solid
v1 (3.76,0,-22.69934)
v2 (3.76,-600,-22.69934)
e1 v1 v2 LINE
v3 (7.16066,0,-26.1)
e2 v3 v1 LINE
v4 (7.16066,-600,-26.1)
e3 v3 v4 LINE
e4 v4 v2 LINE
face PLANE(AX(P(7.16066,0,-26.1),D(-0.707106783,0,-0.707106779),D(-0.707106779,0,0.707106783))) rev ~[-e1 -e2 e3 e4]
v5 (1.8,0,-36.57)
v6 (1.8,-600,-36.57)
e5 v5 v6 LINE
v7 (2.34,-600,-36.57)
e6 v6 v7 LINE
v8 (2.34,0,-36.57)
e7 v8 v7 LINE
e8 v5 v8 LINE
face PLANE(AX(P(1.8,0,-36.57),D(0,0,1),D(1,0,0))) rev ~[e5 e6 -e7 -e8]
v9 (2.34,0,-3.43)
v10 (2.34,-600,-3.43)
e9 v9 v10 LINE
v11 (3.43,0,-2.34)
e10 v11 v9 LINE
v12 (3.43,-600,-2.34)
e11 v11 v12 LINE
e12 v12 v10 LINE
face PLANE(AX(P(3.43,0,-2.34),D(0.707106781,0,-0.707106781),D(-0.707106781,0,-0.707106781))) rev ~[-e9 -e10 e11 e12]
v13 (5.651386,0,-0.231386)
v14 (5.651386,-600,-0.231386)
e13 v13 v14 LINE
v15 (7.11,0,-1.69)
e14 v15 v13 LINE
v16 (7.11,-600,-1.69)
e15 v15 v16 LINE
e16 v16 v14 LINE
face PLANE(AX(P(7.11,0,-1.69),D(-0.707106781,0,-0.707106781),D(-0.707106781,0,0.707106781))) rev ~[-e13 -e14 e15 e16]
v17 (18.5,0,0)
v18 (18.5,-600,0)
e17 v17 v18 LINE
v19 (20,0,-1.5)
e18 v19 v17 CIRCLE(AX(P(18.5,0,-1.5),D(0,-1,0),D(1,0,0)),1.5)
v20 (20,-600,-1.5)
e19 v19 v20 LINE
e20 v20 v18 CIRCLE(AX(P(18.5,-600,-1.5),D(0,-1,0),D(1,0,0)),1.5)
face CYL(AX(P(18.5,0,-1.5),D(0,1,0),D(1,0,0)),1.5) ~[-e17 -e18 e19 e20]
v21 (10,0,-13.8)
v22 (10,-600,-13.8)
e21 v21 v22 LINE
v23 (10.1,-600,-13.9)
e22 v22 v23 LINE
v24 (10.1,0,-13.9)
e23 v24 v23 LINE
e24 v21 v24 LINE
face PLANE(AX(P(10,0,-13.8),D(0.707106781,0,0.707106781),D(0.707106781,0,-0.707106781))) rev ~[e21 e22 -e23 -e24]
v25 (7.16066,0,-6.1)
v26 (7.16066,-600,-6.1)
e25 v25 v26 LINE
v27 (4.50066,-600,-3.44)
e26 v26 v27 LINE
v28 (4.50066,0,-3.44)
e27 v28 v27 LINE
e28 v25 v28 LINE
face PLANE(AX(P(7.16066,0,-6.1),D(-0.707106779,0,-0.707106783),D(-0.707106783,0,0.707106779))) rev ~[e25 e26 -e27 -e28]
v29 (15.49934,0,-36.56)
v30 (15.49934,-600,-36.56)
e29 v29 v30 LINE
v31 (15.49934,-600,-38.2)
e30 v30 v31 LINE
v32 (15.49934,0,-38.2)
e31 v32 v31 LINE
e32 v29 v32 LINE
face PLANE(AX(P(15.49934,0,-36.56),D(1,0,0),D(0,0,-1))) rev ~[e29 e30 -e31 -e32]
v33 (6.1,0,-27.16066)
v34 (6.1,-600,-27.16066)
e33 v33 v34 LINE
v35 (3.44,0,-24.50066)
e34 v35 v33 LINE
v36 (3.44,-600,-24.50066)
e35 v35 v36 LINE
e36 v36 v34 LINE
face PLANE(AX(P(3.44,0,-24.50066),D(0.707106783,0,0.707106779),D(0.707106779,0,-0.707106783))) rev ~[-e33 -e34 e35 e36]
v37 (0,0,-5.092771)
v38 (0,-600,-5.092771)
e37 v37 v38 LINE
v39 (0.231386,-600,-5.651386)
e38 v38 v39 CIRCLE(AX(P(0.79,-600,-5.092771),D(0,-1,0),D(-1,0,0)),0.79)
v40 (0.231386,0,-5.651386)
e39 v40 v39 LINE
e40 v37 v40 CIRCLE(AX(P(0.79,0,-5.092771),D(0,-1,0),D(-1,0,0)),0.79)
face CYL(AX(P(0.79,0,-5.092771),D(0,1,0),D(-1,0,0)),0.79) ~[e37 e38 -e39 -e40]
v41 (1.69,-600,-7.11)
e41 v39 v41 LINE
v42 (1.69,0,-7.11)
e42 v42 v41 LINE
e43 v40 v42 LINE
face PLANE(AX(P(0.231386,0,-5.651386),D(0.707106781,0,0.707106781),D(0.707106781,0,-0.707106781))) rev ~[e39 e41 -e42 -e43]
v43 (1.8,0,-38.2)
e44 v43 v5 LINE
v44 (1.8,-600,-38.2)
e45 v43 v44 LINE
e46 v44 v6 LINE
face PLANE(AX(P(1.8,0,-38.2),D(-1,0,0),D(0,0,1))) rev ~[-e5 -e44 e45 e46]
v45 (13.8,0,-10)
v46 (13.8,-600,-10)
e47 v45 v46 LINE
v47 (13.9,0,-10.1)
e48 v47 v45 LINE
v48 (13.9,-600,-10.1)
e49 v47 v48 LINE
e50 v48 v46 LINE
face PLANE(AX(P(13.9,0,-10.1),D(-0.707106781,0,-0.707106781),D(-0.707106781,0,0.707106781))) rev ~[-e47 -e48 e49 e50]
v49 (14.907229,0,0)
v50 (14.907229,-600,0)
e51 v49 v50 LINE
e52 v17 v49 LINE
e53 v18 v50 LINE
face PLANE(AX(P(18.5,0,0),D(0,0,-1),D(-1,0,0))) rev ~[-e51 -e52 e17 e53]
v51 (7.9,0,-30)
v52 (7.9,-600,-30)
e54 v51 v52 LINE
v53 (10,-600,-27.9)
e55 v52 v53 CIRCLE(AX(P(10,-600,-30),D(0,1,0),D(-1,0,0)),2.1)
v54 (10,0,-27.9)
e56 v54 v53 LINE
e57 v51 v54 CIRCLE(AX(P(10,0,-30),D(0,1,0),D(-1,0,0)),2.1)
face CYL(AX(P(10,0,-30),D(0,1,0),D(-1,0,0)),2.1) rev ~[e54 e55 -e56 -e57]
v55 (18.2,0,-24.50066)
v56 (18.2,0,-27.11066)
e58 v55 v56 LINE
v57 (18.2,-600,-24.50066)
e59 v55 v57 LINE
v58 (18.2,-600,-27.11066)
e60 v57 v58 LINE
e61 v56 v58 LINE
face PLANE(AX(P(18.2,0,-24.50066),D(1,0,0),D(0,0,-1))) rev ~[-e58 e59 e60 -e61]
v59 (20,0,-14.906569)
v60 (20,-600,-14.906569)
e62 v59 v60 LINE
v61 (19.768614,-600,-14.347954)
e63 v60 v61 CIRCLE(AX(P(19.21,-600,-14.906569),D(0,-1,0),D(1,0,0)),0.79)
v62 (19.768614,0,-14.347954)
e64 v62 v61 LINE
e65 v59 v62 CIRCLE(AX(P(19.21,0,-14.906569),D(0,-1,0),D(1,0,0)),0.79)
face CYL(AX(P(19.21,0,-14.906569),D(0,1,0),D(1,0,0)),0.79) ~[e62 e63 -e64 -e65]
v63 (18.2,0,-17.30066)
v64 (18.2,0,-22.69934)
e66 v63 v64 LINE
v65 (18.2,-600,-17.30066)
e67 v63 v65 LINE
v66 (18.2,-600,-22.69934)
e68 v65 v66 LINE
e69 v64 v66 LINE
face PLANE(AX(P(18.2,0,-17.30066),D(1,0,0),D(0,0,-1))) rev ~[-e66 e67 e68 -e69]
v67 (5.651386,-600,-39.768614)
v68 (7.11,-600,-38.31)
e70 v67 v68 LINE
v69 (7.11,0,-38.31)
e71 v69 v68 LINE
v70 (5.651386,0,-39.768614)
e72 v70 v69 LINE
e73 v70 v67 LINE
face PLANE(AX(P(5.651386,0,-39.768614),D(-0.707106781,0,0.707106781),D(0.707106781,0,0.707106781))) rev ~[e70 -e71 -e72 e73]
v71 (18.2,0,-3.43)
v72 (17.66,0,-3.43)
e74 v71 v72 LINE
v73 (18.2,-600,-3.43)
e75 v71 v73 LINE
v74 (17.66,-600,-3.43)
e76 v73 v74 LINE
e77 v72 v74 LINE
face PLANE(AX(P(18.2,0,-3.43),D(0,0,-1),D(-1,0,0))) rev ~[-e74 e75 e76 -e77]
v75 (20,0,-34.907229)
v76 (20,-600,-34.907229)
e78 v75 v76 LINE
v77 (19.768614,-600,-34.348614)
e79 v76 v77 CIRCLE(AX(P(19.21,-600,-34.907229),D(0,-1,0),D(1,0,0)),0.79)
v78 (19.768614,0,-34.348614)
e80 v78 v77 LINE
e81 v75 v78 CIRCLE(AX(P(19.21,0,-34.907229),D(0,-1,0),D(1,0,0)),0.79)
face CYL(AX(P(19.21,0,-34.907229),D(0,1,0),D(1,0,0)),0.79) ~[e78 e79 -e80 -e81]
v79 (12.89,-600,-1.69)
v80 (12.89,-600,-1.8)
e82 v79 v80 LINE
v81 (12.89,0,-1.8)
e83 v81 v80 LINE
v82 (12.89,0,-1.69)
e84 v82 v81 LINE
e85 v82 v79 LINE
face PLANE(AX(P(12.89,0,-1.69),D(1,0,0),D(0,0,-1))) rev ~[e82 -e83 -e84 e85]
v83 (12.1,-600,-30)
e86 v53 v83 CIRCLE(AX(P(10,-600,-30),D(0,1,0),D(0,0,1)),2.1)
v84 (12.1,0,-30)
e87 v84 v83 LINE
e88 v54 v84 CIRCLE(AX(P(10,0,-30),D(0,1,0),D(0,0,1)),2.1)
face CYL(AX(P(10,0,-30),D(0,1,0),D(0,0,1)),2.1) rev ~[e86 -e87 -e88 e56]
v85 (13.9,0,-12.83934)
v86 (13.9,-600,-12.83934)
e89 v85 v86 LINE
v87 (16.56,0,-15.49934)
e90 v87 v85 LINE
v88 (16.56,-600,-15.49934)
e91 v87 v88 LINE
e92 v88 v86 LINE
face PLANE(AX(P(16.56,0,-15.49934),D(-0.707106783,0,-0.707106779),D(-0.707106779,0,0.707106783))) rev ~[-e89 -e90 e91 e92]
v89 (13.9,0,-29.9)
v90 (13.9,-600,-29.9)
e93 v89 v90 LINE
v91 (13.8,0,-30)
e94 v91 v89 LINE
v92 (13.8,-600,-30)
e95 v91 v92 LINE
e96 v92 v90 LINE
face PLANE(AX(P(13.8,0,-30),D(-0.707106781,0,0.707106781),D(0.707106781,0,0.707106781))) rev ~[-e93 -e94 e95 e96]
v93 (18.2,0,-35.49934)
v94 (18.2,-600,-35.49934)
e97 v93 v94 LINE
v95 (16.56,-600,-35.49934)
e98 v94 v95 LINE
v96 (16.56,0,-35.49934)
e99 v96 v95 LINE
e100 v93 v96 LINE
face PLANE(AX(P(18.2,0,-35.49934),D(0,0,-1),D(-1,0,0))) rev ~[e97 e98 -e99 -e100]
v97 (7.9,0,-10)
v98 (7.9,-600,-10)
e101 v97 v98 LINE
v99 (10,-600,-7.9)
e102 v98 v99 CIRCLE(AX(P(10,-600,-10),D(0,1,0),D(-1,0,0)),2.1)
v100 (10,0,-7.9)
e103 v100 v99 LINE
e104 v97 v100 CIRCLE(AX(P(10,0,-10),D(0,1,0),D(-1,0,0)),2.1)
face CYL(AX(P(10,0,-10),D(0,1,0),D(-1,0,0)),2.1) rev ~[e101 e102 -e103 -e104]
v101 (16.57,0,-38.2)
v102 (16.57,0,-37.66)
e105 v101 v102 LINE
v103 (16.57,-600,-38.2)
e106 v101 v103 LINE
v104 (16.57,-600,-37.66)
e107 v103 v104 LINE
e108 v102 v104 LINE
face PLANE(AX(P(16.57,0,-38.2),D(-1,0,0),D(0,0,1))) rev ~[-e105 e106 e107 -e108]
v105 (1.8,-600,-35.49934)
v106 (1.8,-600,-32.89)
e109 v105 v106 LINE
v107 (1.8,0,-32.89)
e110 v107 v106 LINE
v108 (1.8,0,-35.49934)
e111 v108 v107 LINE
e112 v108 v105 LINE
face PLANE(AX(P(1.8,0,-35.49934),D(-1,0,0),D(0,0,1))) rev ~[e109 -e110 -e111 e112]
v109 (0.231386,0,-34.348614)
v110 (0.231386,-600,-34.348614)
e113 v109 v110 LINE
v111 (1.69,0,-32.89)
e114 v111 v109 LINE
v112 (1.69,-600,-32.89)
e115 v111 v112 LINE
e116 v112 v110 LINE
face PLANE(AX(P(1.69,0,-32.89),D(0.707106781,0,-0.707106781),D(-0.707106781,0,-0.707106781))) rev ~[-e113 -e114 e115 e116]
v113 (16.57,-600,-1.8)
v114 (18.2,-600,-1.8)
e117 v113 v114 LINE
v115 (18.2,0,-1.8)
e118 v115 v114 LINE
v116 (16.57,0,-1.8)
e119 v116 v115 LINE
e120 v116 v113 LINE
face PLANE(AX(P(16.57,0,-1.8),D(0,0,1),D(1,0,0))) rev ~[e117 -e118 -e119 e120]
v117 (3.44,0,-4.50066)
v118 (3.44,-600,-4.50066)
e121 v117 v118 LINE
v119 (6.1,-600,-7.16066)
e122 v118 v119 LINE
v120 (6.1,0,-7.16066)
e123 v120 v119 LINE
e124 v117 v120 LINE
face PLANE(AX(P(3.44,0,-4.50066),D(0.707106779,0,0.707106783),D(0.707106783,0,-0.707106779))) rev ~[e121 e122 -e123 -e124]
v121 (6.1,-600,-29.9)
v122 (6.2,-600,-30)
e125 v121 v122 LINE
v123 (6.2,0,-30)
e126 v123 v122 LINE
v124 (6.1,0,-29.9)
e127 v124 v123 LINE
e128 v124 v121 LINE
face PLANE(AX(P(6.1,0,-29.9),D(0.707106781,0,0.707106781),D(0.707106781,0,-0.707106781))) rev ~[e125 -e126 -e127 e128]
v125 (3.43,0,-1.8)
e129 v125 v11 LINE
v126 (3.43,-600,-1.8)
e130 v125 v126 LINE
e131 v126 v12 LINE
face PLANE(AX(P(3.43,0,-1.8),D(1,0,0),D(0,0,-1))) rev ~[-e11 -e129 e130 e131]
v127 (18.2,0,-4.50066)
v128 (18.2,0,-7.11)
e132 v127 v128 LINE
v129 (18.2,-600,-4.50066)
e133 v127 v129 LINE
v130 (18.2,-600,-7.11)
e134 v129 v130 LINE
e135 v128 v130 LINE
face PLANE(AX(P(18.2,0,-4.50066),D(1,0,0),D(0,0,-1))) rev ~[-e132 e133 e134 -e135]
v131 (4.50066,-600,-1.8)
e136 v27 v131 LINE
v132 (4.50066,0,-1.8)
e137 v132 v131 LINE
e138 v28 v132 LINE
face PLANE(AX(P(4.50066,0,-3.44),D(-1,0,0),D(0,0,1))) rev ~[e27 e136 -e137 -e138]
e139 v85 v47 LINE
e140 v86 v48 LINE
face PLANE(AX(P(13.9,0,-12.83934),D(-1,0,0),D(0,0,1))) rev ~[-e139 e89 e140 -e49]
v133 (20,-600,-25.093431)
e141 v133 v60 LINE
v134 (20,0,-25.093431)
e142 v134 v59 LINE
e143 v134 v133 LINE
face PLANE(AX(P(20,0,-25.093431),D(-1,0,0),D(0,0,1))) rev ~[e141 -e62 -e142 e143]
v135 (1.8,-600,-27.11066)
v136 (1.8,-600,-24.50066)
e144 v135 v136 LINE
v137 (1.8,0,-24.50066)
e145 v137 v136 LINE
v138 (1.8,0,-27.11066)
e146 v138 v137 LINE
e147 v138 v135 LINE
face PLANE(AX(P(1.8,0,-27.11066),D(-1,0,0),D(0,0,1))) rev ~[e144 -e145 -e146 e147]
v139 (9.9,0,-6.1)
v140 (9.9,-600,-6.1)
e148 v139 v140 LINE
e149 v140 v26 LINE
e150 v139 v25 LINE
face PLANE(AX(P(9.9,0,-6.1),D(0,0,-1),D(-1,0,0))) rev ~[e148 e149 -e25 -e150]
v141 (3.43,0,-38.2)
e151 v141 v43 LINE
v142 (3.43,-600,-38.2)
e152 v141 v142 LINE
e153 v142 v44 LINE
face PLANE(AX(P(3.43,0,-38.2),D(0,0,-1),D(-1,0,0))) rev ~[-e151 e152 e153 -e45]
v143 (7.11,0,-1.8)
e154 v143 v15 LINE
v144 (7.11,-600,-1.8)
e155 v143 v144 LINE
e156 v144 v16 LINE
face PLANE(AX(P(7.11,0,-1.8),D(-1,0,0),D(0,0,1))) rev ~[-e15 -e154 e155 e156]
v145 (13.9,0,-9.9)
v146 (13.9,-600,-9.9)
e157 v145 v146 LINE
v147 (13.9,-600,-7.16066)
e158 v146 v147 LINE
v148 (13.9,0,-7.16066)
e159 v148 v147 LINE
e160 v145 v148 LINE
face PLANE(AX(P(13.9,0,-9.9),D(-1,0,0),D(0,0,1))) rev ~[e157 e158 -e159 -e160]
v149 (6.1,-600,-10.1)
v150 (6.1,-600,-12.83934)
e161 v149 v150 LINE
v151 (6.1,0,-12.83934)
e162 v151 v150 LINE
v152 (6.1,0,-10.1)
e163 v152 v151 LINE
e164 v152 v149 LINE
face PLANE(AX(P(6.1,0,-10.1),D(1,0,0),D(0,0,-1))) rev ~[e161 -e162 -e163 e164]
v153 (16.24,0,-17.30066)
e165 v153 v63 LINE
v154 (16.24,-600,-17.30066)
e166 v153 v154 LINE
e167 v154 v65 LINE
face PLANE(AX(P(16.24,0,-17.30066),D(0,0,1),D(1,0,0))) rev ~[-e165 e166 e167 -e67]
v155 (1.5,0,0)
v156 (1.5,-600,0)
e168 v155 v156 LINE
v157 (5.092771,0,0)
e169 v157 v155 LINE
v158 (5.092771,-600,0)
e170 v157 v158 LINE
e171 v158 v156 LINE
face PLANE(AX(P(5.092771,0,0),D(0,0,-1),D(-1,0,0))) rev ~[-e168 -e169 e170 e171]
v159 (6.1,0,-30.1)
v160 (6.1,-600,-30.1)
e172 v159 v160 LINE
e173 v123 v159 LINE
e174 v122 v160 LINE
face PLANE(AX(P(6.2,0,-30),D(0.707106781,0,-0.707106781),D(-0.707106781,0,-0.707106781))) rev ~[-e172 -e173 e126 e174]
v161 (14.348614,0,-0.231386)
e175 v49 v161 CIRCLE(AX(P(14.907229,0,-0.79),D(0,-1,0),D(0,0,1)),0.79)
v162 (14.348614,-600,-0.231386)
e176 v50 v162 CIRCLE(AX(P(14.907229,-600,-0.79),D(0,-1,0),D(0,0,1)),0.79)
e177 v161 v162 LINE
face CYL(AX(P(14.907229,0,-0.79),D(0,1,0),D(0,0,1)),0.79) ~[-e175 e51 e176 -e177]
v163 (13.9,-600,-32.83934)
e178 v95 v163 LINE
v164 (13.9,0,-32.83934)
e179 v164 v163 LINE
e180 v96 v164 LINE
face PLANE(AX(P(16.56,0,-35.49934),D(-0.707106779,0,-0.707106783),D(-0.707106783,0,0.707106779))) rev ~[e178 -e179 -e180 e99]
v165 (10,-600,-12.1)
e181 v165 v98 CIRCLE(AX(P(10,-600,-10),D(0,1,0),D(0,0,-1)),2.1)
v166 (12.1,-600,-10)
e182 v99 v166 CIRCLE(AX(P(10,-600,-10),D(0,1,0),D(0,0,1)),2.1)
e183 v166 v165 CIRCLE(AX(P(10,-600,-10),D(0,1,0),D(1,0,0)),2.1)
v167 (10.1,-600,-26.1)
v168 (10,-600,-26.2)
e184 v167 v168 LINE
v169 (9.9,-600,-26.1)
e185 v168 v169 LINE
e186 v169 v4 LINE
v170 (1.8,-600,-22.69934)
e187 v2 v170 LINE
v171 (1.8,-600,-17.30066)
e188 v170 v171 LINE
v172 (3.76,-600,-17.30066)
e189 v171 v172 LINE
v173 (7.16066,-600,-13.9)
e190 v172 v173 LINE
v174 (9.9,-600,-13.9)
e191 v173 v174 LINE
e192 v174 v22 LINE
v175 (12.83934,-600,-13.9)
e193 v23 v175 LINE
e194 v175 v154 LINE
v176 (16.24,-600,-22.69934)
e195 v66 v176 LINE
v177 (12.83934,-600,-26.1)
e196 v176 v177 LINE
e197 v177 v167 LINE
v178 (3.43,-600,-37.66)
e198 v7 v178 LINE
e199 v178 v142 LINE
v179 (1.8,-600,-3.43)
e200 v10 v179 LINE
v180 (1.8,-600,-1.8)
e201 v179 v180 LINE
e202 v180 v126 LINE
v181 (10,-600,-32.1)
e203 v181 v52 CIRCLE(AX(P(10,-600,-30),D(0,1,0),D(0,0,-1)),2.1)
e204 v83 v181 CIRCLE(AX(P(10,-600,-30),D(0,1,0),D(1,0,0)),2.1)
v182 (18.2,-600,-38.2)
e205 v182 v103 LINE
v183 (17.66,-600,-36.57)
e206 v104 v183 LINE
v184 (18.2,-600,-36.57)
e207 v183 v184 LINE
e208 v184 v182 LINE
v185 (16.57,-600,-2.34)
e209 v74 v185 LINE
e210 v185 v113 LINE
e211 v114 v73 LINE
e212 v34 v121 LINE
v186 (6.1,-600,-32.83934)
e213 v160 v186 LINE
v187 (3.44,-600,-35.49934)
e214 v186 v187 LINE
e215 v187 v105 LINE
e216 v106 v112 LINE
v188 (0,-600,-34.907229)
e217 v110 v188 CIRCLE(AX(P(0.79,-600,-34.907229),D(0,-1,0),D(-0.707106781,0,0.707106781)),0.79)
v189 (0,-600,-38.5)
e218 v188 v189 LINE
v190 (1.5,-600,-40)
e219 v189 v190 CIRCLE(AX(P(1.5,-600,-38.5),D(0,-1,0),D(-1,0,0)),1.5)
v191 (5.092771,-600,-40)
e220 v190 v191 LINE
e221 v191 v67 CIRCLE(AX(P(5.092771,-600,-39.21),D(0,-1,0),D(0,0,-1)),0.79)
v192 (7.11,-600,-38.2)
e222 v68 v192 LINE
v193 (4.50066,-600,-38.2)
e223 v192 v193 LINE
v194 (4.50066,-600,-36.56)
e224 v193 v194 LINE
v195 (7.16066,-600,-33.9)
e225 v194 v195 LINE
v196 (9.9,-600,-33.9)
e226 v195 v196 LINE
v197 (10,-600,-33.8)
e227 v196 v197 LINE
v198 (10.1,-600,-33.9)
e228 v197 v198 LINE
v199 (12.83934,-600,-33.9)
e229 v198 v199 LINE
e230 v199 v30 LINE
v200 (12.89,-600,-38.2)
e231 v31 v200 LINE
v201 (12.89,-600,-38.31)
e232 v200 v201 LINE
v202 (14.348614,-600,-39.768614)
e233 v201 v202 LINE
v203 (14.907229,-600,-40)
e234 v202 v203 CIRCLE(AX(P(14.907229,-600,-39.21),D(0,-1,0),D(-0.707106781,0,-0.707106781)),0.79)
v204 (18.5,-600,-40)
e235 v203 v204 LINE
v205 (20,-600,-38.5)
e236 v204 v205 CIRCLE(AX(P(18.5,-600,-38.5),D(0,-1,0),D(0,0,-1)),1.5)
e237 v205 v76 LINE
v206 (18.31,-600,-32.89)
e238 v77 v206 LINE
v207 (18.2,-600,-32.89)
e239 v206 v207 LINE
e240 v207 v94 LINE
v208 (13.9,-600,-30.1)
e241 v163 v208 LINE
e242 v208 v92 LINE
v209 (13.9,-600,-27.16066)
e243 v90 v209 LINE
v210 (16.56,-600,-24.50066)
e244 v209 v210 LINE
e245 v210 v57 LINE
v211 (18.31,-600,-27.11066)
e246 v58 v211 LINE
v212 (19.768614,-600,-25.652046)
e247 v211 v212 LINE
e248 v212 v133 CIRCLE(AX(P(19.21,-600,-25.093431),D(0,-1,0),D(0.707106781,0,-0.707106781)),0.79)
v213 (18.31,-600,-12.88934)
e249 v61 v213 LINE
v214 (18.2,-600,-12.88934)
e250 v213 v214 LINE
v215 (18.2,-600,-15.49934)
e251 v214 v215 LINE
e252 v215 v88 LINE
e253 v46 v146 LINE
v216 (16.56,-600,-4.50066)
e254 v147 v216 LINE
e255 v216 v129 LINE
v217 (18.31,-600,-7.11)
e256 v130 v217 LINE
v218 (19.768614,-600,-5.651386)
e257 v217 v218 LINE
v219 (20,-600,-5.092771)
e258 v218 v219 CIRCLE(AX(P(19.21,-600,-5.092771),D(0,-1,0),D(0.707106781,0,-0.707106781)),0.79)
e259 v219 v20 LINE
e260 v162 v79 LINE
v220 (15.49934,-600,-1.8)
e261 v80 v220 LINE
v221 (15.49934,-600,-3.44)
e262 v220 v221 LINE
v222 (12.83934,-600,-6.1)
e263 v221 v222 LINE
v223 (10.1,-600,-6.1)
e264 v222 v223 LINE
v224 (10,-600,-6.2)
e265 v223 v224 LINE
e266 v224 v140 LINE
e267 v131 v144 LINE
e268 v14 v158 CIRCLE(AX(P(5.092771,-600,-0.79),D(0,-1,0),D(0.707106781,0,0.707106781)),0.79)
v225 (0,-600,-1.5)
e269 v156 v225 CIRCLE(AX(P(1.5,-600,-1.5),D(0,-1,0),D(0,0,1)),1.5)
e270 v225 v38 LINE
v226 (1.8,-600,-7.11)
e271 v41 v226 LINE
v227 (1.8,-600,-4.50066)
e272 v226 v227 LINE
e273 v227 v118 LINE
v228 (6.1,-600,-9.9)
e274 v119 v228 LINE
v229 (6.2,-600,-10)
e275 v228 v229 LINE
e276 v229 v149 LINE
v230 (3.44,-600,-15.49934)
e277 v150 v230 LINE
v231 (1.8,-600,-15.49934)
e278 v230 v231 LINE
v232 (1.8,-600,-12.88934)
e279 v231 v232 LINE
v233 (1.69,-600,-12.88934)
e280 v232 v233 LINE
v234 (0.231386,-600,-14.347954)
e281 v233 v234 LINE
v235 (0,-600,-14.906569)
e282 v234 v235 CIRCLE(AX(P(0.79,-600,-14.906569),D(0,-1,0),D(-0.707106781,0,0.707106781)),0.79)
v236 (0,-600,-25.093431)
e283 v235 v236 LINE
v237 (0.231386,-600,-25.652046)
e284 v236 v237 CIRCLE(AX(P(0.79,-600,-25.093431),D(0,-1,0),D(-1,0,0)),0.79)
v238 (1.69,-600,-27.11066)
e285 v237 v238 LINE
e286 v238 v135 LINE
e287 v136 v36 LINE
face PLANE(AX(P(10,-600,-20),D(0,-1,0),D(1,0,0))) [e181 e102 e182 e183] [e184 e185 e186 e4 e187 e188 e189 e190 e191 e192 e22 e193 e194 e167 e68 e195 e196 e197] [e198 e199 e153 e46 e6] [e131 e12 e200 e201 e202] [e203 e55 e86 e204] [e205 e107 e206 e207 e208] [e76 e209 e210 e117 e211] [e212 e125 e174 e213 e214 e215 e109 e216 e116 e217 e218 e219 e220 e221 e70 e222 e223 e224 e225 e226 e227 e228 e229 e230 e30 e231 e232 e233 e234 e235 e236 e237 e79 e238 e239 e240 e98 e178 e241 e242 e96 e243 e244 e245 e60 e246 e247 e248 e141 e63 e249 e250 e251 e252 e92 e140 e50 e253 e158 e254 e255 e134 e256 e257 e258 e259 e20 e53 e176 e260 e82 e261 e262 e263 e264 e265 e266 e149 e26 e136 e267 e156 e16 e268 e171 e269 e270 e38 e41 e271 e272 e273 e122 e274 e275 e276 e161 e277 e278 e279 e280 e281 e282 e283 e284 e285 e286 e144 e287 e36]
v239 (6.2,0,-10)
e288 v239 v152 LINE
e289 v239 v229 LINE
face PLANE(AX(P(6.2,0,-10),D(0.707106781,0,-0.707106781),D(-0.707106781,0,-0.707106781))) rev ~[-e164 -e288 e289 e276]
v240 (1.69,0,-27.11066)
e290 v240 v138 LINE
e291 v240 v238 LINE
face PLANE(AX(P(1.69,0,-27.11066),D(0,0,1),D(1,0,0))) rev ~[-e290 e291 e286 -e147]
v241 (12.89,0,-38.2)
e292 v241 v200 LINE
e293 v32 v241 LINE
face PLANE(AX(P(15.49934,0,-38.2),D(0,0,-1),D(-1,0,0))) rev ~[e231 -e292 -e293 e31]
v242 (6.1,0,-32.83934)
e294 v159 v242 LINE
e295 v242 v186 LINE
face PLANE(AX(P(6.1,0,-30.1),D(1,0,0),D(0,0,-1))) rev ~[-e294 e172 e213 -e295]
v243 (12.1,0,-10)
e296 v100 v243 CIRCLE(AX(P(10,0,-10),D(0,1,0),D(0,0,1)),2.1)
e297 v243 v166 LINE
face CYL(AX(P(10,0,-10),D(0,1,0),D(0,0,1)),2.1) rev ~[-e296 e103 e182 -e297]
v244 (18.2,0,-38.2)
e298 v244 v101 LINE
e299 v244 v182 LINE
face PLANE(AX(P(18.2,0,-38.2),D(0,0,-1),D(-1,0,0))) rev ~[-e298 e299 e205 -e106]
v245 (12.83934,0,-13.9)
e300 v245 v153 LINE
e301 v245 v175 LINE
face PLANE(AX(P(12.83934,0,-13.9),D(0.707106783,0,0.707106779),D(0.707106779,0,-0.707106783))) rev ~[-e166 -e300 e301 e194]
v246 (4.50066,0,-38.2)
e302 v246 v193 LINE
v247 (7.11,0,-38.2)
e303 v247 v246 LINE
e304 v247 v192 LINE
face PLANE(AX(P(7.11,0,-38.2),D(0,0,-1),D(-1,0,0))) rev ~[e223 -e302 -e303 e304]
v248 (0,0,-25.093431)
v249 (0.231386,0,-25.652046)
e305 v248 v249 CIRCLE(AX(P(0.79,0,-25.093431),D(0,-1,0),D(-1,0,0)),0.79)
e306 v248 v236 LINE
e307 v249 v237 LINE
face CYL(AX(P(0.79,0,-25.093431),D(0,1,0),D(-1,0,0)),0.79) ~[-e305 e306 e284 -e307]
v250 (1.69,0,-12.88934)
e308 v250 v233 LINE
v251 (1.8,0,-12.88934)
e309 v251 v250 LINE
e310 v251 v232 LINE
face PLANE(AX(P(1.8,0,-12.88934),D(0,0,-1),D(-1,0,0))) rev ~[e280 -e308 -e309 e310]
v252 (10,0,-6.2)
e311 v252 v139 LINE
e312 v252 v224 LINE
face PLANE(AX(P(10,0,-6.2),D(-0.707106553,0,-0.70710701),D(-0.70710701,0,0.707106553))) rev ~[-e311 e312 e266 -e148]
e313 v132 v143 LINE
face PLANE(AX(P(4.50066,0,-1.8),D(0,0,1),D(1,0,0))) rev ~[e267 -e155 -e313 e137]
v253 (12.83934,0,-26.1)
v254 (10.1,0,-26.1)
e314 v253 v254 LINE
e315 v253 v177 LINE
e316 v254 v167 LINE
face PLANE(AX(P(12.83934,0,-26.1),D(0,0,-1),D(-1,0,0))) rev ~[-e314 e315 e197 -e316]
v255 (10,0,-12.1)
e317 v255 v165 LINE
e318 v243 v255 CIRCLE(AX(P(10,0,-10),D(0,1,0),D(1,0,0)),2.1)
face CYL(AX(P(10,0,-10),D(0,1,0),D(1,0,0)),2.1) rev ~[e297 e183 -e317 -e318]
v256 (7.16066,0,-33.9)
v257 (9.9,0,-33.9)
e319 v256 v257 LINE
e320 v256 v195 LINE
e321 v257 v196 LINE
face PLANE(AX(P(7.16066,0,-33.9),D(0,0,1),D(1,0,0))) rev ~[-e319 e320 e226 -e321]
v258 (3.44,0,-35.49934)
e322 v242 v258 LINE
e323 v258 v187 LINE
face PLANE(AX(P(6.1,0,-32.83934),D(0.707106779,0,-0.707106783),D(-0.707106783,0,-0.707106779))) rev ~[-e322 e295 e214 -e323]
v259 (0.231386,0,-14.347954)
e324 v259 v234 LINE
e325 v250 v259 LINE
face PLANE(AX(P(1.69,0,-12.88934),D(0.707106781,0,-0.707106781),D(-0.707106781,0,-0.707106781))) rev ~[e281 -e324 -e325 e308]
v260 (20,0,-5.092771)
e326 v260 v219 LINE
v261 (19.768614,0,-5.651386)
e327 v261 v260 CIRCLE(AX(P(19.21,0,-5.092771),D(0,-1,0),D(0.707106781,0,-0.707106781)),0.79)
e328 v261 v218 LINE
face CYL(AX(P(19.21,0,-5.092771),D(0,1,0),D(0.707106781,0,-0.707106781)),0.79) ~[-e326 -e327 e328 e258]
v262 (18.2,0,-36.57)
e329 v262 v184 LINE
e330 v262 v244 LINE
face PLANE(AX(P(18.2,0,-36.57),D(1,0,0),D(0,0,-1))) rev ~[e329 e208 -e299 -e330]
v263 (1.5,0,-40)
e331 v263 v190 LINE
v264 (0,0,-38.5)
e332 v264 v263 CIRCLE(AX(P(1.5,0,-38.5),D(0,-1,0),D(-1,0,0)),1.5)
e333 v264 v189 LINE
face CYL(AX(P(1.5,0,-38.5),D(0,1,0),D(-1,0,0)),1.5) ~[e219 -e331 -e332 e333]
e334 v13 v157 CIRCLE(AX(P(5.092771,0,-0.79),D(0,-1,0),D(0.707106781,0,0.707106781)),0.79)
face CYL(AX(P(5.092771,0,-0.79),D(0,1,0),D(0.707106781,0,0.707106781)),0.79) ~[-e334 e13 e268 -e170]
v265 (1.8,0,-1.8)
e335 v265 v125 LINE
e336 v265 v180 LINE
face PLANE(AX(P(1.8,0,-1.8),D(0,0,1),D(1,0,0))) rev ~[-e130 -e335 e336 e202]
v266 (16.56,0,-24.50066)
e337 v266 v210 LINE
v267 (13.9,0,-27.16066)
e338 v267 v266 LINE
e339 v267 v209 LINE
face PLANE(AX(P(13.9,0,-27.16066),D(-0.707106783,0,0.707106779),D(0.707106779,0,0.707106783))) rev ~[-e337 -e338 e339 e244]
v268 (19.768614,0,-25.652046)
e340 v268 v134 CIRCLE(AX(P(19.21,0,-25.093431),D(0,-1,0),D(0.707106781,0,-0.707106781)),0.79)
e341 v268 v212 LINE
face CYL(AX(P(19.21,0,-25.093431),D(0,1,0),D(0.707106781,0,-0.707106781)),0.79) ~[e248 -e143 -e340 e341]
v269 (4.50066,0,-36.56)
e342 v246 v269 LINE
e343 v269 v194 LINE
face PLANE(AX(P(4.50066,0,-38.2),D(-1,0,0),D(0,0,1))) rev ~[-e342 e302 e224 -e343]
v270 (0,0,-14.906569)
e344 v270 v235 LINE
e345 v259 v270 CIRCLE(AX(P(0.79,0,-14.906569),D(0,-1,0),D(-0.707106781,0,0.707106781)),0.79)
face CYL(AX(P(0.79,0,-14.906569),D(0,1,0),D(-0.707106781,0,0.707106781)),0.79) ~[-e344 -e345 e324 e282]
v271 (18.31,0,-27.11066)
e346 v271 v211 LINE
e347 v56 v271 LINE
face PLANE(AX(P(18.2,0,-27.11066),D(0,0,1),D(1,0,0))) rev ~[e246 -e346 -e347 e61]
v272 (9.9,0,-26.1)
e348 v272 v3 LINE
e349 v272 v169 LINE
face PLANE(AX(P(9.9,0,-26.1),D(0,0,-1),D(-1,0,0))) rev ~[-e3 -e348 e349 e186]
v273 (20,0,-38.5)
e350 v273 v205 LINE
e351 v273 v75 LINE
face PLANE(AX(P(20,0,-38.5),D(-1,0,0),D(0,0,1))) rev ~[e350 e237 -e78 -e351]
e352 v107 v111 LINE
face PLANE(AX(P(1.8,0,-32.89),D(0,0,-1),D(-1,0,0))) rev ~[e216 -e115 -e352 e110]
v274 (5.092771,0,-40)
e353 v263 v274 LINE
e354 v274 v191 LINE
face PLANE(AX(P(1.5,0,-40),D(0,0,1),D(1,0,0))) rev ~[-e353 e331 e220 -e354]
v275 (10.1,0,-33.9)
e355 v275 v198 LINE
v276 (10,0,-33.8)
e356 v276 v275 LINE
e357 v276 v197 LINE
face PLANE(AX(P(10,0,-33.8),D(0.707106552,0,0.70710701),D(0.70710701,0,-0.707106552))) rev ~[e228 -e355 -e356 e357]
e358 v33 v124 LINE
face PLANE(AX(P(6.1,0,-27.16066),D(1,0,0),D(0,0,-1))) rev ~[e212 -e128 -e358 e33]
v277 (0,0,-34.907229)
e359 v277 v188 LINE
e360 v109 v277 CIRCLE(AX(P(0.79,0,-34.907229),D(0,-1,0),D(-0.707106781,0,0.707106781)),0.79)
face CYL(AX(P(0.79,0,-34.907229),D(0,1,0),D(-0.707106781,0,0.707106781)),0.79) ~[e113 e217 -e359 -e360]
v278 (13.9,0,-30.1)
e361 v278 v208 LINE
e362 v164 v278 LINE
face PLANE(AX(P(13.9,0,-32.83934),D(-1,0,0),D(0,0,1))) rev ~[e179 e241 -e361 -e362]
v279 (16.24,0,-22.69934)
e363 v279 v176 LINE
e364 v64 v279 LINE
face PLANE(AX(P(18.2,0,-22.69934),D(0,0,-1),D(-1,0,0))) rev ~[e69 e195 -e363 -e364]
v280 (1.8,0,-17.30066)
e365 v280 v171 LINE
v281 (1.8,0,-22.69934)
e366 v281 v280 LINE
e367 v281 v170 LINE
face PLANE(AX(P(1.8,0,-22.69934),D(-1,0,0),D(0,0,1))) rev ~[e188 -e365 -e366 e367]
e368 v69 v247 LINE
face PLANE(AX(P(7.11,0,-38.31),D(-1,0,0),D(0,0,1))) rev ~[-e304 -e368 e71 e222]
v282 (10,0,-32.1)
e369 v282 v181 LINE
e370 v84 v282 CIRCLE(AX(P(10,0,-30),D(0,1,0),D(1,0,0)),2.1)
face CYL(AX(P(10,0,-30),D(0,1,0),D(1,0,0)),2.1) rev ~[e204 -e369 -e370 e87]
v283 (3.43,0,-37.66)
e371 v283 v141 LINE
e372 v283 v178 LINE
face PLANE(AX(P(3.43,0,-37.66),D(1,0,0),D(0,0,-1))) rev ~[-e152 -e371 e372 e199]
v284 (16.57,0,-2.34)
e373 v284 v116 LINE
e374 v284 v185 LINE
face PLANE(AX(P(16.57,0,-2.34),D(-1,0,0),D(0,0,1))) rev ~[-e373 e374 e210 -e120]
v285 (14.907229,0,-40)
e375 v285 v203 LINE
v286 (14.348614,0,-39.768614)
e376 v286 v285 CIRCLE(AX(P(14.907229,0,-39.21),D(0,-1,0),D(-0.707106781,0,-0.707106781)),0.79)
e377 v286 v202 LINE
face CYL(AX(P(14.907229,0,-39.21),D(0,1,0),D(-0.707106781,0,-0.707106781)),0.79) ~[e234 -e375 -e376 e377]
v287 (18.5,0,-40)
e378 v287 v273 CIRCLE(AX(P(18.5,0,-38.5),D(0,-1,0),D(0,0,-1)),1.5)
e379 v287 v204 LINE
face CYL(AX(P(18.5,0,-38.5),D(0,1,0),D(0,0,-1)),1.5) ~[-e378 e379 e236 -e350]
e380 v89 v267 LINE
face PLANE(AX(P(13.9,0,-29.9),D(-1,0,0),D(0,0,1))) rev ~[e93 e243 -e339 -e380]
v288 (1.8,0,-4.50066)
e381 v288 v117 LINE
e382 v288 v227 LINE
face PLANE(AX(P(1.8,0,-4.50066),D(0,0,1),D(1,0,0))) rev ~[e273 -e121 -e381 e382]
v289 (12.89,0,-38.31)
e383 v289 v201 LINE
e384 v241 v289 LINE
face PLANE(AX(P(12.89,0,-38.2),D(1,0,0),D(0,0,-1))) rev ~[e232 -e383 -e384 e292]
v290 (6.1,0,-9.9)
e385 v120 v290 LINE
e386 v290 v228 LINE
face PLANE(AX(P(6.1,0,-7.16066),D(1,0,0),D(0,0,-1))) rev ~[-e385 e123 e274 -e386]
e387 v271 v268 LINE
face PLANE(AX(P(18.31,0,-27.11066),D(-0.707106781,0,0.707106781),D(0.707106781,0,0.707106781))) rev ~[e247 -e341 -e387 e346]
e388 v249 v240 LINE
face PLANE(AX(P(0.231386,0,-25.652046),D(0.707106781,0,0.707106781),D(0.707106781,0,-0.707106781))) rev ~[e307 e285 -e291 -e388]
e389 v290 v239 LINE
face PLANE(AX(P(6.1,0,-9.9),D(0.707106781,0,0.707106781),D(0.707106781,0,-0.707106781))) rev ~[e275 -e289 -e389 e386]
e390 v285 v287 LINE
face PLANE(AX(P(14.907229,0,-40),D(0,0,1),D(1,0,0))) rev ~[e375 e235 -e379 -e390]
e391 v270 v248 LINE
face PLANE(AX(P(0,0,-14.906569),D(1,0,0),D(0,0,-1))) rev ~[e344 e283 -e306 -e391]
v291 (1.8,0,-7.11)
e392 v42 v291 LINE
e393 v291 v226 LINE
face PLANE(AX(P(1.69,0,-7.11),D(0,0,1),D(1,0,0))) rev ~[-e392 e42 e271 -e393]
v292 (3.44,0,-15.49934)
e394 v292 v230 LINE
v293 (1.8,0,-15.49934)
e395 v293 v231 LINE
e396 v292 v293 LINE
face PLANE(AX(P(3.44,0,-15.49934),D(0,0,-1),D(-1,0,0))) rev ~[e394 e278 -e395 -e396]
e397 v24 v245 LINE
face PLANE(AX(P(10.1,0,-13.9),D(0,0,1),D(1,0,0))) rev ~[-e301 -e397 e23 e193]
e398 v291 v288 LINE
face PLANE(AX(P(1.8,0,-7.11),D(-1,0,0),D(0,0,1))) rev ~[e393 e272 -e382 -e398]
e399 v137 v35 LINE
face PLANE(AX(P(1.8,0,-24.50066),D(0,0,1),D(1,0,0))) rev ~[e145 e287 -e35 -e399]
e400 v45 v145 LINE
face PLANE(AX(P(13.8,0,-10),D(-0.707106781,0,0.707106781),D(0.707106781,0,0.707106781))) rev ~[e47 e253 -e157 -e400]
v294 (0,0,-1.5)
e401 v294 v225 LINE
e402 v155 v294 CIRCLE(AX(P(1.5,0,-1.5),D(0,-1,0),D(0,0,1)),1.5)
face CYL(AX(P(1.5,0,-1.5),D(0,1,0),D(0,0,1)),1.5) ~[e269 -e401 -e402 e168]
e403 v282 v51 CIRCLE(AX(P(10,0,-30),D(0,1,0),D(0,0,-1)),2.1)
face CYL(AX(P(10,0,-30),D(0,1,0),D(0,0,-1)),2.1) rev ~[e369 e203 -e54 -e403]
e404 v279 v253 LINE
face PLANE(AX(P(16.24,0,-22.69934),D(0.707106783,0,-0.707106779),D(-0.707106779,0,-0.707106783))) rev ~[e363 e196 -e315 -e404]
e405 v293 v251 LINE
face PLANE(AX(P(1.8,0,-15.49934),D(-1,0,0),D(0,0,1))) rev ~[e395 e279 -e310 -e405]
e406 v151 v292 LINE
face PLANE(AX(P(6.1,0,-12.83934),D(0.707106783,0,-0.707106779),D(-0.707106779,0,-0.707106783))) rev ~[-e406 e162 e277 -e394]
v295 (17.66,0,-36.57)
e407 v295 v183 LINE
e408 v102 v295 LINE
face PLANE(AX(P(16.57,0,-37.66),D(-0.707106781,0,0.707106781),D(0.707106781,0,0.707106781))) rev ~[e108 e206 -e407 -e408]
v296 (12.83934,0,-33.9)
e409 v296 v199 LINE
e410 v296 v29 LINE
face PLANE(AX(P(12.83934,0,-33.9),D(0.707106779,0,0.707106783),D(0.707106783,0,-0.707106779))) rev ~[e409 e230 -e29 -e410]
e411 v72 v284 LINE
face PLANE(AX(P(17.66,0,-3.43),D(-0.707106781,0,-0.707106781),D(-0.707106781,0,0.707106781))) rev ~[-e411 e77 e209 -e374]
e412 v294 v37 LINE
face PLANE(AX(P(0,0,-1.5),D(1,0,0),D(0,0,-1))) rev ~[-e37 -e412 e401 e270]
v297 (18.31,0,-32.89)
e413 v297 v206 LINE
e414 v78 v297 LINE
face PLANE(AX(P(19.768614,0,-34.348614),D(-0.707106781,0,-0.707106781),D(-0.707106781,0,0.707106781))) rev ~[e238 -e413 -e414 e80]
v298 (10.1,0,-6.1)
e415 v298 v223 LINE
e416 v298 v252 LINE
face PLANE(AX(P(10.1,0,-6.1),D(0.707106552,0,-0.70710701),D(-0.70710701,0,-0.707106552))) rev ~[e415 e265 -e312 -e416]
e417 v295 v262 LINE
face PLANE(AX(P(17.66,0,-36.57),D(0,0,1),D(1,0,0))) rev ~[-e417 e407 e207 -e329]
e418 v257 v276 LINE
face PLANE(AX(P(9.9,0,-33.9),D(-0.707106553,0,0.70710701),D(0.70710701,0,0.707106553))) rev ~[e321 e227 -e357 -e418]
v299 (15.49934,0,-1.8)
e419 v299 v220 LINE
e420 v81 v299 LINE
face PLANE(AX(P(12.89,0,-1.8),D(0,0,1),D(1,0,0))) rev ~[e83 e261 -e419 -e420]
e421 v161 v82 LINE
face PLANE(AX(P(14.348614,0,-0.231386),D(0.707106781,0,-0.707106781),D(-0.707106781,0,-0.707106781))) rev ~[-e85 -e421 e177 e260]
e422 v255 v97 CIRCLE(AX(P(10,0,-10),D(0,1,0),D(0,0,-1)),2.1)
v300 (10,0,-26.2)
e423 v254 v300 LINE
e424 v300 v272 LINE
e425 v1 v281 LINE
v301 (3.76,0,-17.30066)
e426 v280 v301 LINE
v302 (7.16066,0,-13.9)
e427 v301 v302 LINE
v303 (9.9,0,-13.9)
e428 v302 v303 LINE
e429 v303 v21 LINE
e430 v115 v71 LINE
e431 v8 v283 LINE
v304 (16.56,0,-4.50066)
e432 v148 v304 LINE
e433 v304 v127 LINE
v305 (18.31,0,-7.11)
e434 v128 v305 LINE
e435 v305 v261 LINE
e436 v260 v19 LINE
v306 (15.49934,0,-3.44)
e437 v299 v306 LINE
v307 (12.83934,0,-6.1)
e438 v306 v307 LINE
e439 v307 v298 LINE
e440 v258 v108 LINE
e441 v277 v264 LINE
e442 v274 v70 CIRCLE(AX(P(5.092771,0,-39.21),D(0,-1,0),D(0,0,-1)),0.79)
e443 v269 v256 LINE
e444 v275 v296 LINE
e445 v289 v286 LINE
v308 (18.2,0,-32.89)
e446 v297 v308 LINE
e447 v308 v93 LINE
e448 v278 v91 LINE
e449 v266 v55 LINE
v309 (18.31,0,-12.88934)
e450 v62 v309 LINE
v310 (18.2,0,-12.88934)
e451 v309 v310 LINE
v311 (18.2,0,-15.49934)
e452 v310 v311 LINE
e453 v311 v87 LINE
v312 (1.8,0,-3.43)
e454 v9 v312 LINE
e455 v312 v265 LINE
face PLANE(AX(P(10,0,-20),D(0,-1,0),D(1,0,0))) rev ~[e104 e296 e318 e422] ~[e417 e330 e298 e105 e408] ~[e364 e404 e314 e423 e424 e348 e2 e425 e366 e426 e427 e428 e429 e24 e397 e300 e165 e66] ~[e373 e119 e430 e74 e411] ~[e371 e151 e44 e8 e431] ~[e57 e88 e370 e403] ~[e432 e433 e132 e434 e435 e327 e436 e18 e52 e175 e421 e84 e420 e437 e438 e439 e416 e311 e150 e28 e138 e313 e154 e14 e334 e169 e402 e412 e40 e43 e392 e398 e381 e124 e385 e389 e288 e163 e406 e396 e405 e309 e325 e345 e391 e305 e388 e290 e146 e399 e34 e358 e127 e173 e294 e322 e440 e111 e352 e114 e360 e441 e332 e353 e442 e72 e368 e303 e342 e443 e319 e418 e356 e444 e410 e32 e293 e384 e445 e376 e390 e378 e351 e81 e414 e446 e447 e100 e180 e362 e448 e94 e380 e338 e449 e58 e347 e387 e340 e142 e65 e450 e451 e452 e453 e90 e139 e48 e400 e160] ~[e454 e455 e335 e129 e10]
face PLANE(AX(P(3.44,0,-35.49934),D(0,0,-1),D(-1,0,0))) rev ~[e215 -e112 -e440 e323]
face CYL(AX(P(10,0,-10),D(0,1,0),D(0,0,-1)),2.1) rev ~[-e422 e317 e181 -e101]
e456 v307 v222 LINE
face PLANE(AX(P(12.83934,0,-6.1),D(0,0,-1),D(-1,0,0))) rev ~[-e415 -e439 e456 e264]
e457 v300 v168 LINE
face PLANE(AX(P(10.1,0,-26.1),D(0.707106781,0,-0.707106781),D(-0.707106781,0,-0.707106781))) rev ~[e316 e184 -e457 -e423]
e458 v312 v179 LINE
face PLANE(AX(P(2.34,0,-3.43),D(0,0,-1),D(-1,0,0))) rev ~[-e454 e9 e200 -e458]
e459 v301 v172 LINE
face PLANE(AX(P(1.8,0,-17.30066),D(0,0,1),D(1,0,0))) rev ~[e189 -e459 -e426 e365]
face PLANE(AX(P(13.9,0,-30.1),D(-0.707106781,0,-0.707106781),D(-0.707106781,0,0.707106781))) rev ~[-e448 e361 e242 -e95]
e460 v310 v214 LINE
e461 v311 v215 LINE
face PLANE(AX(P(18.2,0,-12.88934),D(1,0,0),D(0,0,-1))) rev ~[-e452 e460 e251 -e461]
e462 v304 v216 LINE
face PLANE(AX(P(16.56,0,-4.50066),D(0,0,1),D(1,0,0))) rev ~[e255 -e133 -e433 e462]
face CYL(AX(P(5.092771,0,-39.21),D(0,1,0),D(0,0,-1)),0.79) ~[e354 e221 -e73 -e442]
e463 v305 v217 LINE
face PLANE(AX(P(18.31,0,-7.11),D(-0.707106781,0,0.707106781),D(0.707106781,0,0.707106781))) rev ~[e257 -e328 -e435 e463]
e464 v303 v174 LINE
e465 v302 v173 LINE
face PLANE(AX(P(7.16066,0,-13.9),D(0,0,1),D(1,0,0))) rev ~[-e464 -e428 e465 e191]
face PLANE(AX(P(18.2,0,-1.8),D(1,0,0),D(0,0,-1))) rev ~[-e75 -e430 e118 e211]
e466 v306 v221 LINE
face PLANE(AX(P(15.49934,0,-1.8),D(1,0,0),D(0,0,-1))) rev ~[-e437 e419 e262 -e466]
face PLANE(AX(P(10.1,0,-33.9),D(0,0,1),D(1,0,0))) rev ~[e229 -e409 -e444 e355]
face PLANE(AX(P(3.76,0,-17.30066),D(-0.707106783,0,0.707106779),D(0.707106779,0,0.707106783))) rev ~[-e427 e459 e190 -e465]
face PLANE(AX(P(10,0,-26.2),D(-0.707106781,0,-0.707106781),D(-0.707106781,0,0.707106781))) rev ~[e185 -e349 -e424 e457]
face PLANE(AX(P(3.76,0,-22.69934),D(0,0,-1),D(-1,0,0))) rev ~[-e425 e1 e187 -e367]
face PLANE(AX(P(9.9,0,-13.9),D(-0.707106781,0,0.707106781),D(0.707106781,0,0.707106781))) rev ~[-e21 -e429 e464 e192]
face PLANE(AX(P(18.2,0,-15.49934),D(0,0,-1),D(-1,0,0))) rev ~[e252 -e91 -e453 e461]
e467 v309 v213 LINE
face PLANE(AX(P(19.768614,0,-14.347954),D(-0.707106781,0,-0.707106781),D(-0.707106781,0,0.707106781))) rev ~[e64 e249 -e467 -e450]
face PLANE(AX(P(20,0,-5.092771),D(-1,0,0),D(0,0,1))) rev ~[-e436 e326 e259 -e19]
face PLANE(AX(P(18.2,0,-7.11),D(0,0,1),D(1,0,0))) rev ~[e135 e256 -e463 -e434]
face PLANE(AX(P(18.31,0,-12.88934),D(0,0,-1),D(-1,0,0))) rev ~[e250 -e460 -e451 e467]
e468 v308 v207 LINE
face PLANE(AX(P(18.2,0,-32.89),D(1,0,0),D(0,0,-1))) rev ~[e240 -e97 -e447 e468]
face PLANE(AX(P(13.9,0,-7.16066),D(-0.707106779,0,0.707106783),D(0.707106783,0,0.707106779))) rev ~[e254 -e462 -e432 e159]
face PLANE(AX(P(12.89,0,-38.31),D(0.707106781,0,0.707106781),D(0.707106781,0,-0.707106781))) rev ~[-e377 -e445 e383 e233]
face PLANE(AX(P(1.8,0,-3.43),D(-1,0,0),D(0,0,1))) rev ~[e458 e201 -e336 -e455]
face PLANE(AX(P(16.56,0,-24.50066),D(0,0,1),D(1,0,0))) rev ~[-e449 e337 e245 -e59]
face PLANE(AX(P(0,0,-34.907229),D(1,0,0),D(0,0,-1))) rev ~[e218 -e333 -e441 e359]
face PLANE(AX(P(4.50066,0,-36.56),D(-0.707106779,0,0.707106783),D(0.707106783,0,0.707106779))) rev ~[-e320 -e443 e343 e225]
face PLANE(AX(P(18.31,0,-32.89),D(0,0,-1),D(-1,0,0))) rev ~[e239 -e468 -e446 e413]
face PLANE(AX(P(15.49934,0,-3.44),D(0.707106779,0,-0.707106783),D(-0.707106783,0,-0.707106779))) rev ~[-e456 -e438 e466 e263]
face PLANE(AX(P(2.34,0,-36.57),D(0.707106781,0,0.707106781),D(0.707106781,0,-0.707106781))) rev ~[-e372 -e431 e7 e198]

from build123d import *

# Parameters (mm, degrees)
F2_DEPTH = 600


with BuildPart() as f2:
    # F0 (on Front) → F2 (new body)
    with BuildSketch(Plane.XZ):
        with BuildLine():
            Line((5.0927712857, 0), (1.5, 0))
            ThreePointArc((1.5, 0), (0.4393398282, -0.4393398282), (0, -1.5))
            Line((0, -1.5), (0, -5.0927712857))
            ThreePointArc((0, -5.0927712857), (0.0601351693, -5.3950911973), (0.2313856429, -5.6513856429))
            Line((0.2313856429, -5.6513856429), (1.69, -7.11))
            Line((1.69, -7.11), (1.8, -7.11))
            Line((1.8, -7.11), (1.8, -4.5006601718))
            Line((1.8, -4.5006601718), (3.44, -4.5006601718))
            Line((3.44, -4.5006601718), (6.1000000155, -7.1606601718))
            Line((6.1000000155, -7.1606601718), (6.1000000155, -9.9))
            Line((6.1000000155, -9.9), (6.2000000155, -10))
            Line((6.2000000155, -10), (6.1000000155, -10.1))
            Line((6.1000000155, -10.1), (6.1000000155, -12.8393398605))
            Line((6.1000000155, -12.8393398605), (3.44, -15.4993398916))
            Line((3.44, -15.4993398916), (1.8, -15.4993398916))
            Line((1.8, -15.4993398916), (1.8, -12.8893398916))
            Line((1.8, -12.8893398916), (1.69, -12.8893398916))
            Line((1.69, -12.8893398916), (0.2313856429, -14.3479542487))
            ThreePointArc((0.2313856429, -14.3479542487), (0.0601351693, -14.6042486943), (0, -14.9065686059))
            Line((0, -14.9065686059), (0, -20))
            Line((0, -20), (0, -25.0934313941))
            ThreePointArc((0, -25.0934313941), (0.0601351693, -25.3957513057), (0.2313856429, -25.6520457513))
            Line((0.2313856429, -25.6520457513), (1.69, -27.1106601084))
            Line((1.69, -27.1106601084), (1.8, -27.1106601084))
            Line((1.8, -27.1106601084), (1.8, -24.5006601084))
            Line((1.8, -24.5006601084), (3.44, -24.5006601084))
            Line((3.44, -24.5006601084), (6.1000000155, -27.1606601395))
            Line((6.1000000155, -27.1606601395), (6.1000000155, -29.9))
            Line((6.1000000155, -29.9), (6.2000000155, -30))
            Line((6.2000000155, -30), (6.1000000155, -30.1))
            Line((6.1000000155, -30.1), (6.1000000155, -32.8393398282))
            Line((6.1000000155, -32.8393398282), (3.44, -35.4993398282))
            Line((3.44, -35.4993398282), (1.8, -35.4993398282))
            Line((1.8, -35.4993398282), (1.8, -32.89))
            Line((1.8, -32.89), (1.69, -32.89))
            Line((1.69, -32.89), (0.2313856429, -34.3486143571))
            ThreePointArc((0.2313856429, -34.3486143571), (0.0601351693, -34.6049088027), (0, -34.9072287143))
            Line((0, -34.9072287143), (0, -38.5))
            ThreePointArc((0, -38.5), (0.4393398282, -39.5606601718), (1.5, -40))
            Line((1.5, -40), (5.0927712857, -40))
            ThreePointArc((5.0927712857, -40), (5.3950911973, -39.9398648307), (5.6513856429, -39.7686143571))
            Line((5.6513856429, -39.7686143571), (7.11, -38.31))
            Line((7.11, -38.31), (7.11, -38.2))
            Line((7.11, -38.2), (4.5006601718, -38.2))
            Line((4.5006601718, -38.2), (4.5006601718, -36.56))
            Line((4.5006601718, -36.56), (7.1606601873, -33.9))
            Line((7.1606601873, -33.9), (9.9000000155, -33.9))
            Line((9.9000000155, -33.9), (10.0000000478, -33.8000000323))
            Line((10.0000000478, -33.8000000323), (10.1000000802, -33.9))
            Line((10.1000000802, -33.9), (12.8393399084, -33.9))
            Line((12.8393399084, -33.9), (15.4993399239, -36.56))
            Line((15.4993399239, -36.56), (15.4993399239, -38.2))
            Line((15.4993399239, -38.2), (12.8900000957, -38.2))
            Line((12.8900000957, -38.2), (12.8900000957, -38.31))
            Line((12.8900000957, -38.31), (14.3486144528, -39.7686143571))
            ThreePointArc((14.3486144528, -39.7686143571), (14.6049088984, -39.9398648307), (14.90722881, -40))
            Line((14.90722881, -40), (18.5000000957, -40))
            ThreePointArc((18.5000000957, -40), (19.5606602675, -39.5606601718), (20.0000000957, -38.5))
            Line((20.0000000957, -38.5), (20.0000000957, -34.9072287143))
            ThreePointArc((20.0000000957, -34.9072287143), (19.9398649264, -34.6049088027), (19.7686144528, -34.3486143571))
            Line((19.7686144528, -34.3486143571), (18.3100000957, -32.89))
            Line((18.3100000957, -32.89), (18.2000000957, -32.89))
            Line((18.2000000957, -32.89), (18.2000000957, -35.4993398282))
            Line((18.2000000957, -35.4993398282), (16.5600000957, -35.4993398282))
            Line((16.5600000957, -35.4993398282), (13.9000000802, -32.8393398282))
            Line((13.9000000802, -32.8393398282), (13.9000000802, -30.1))
            Line((13.9000000802, -30.1), (13.8000000802, -30))
            Line((13.8000000802, -30), (13.9000000802, -29.9))
            Line((13.9000000802, -29.9), (13.9000000802, -27.1606601395))
            Line((13.9000000802, -27.1606601395), (16.5600000957, -24.5006601084))
            Line((16.5600000957, -24.5006601084), (18.2000000957, -24.5006601084))
            Line((18.2000000957, -24.5006601084), (18.2000000957, -27.1106601084))
            Line((18.2000000957, -27.1106601084), (18.3100000957, -27.1106601084))
            Line((18.3100000957, -27.1106601084), (19.7686144528, -25.6520457513))
            ThreePointArc((19.7686144528, -25.6520457513), (19.9398649264, -25.3957513057), (20.0000000957, -25.0934313941))
            Line((20.0000000957, -25.0934313941), (20.0000000957, -20))
            Line((20.0000000957, -20), (20.0000000957, -14.9065686059))
            ThreePointArc((20.0000000957, -14.9065686059), (19.9398649264, -14.6042486943), (19.7686144528, -14.3479542487))
            Line((19.7686144528, -14.3479542487), (18.3100000957, -12.8893398916))
            Line((18.3100000957, -12.8893398916), (18.2000000957, -12.8893398916))
            Line((18.2000000957, -12.8893398916), (18.2000000957, -15.4993398916))
            Line((18.2000000957, -15.4993398916), (16.5600000957, -15.4993398916))
            Line((16.5600000957, -15.4993398916), (13.9000000802, -12.8393398605))
            Line((13.9000000802, -12.8393398605), (13.9000000802, -10.1))
            Line((13.9000000802, -10.1), (13.8000000802, -10))
            Line((13.8000000802, -10), (13.9000000802, -9.9))
            Line((13.9000000802, -9.9), (13.9000000802, -7.1606601718))
            Line((13.9000000802, -7.1606601718), (16.5600000957, -4.5006601718))
            Line((16.5600000957, -4.5006601718), (18.2000000957, -4.5006601718))
            Line((18.2000000957, -4.5006601718), (18.2000000957, -7.11))
            Line((18.2000000957, -7.11), (18.3100000957, -7.11))
            Line((18.3100000957, -7.11), (19.7686144528, -5.6513856429))
            ThreePointArc((19.7686144528, -5.6513856429), (19.9398649264, -5.3950911973), (20.0000000957, -5.0927712857))
            Line((20.0000000957, -5.0927712857), (20.0000000957, -1.5))
            ThreePointArc((20.0000000957, -1.5), (19.5606602675, -0.4393398282), (18.5000000957, 0))
            Line((18.5000000957, 0), (14.90722881, 0))
            ThreePointArc((14.90722881, 0), (14.6049088984, -0.0601351693), (14.3486144528, -0.2313856429))
            Line((14.3486144528, -0.2313856429), (12.8900000957, -1.69))
            Line((12.8900000957, -1.69), (12.8900000957, -1.8))
            Line((12.8900000957, -1.8), (15.4993399239, -1.8))
            Line((15.4993399239, -1.8), (15.4993399239, -3.44))
            Line((15.4993399239, -3.44), (12.8393399084, -6.1))
            Line((12.8393399084, -6.1), (10.1000000802, -6.1))
            Line((10.1000000802, -6.1), (10.0000000478, -6.1999999677))
            Line((10.0000000478, -6.1999999677), (9.9000000155, -6.1))
            Line((9.9000000155, -6.1), (7.1606601873, -6.1))
            Line((7.1606601873, -6.1), (4.5006601718, -3.44))
            Line((4.5006601718, -3.44), (4.5006601718, -1.8))
            Line((4.5006601718, -1.8), (7.11, -1.8))
            Line((7.11, -1.8), (7.11, -1.69))
            Line((7.11, -1.69), (5.6513856429, -0.2313856429))
            ThreePointArc((5.6513856429, -0.2313856429), (5.3950911973, -0.0601351693), (5.0927712857, 0))
        make_face()
        Polygon((1.8, -38.2), (1.8, -36.57), (2.34, -36.57), (3.43, -37.66), (3.43, -38.2), align=None, mode=Mode.SUBTRACT)
        with BuildLine():
            ThreePointArc((10.0000000478, -27.9), (11.4849242883, -28.5150757595), (12.1000000478, -30))
            ThreePointArc((12.1000000478, -30), (11.4849242883, -31.4849242405), (10.0000000478, -32.1))
            ThreePointArc((10.0000000478, -32.1), (8.5150758074, -31.4849242405), (7.9000000478, -30))
            ThreePointArc((7.9000000478, -30), (8.5150758074, -28.5150757595), (10.0000000478, -27.9))
        make_face(mode=Mode.SUBTRACT)
        Polygon((17.6600000957, -36.57), (18.2000000957, -36.57), (18.2000000957, -38.2), (16.5700000957, -38.2), (16.5700000957, -37.66), align=None, mode=Mode.SUBTRACT)
        Polygon((9.9000000478, -13.9000000323), (10.0000000478, -13.8000000323), (10.1000000478, -13.9000000323), (12.8393399084, -13.9000000323), (16.2400000478, -17.3006601916), (18.2000000478, -17.3006601916), (18.2000000478, -20), (18.2000000478, -22.6993398084), (16.2400000478, -22.6993398084), (12.8393399084, -26.0999999677), (10.1000000478, -26.0999999677), (10.0000000478, -26.1999999677), (9.9000000478, -26.0999999677), (7.1606601873, -26.0999999677), (3.7600000478, -22.6993398084), (1.8000000478, -22.6993398084), (1.8000000478, -20), (1.8000000478, -17.3006601916), (3.7600000478, -17.3006601916), (7.1606601873, -13.9000000323), align=None, mode=Mode.SUBTRACT)
        Polygon((1.8, -3.43), (1.8, -1.8), (3.43, -1.8), (3.43, -2.34), (2.34, -3.43), align=None, mode=Mode.SUBTRACT)
        with BuildLine():
            ThreePointArc((7.9000000478, -10), (8.5150758074, -8.5150757595), (10.0000000478, -7.9))
            ThreePointArc((10.0000000478, -7.9), (11.4849242883, -8.5150757595), (12.1000000478, -10))
            ThreePointArc((12.1000000478, -10), (11.4849242883, -11.4849242405), (10.0000000478, -12.1))
            ThreePointArc((10.0000000478, -12.1), (8.5150758074, -11.4849242405), (7.9000000478, -10))
        make_face(mode=Mode.SUBTRACT)
        Polygon((16.5700000957, -2.34), (16.5700000957, -1.8), (18.2000000957, -1.8), (18.2000000957, -3.43), (17.6600000957, -3.43), align=None, mode=Mode.SUBTRACT)
    extrude(amount=F2_DEPTH)


solid = f2.part
